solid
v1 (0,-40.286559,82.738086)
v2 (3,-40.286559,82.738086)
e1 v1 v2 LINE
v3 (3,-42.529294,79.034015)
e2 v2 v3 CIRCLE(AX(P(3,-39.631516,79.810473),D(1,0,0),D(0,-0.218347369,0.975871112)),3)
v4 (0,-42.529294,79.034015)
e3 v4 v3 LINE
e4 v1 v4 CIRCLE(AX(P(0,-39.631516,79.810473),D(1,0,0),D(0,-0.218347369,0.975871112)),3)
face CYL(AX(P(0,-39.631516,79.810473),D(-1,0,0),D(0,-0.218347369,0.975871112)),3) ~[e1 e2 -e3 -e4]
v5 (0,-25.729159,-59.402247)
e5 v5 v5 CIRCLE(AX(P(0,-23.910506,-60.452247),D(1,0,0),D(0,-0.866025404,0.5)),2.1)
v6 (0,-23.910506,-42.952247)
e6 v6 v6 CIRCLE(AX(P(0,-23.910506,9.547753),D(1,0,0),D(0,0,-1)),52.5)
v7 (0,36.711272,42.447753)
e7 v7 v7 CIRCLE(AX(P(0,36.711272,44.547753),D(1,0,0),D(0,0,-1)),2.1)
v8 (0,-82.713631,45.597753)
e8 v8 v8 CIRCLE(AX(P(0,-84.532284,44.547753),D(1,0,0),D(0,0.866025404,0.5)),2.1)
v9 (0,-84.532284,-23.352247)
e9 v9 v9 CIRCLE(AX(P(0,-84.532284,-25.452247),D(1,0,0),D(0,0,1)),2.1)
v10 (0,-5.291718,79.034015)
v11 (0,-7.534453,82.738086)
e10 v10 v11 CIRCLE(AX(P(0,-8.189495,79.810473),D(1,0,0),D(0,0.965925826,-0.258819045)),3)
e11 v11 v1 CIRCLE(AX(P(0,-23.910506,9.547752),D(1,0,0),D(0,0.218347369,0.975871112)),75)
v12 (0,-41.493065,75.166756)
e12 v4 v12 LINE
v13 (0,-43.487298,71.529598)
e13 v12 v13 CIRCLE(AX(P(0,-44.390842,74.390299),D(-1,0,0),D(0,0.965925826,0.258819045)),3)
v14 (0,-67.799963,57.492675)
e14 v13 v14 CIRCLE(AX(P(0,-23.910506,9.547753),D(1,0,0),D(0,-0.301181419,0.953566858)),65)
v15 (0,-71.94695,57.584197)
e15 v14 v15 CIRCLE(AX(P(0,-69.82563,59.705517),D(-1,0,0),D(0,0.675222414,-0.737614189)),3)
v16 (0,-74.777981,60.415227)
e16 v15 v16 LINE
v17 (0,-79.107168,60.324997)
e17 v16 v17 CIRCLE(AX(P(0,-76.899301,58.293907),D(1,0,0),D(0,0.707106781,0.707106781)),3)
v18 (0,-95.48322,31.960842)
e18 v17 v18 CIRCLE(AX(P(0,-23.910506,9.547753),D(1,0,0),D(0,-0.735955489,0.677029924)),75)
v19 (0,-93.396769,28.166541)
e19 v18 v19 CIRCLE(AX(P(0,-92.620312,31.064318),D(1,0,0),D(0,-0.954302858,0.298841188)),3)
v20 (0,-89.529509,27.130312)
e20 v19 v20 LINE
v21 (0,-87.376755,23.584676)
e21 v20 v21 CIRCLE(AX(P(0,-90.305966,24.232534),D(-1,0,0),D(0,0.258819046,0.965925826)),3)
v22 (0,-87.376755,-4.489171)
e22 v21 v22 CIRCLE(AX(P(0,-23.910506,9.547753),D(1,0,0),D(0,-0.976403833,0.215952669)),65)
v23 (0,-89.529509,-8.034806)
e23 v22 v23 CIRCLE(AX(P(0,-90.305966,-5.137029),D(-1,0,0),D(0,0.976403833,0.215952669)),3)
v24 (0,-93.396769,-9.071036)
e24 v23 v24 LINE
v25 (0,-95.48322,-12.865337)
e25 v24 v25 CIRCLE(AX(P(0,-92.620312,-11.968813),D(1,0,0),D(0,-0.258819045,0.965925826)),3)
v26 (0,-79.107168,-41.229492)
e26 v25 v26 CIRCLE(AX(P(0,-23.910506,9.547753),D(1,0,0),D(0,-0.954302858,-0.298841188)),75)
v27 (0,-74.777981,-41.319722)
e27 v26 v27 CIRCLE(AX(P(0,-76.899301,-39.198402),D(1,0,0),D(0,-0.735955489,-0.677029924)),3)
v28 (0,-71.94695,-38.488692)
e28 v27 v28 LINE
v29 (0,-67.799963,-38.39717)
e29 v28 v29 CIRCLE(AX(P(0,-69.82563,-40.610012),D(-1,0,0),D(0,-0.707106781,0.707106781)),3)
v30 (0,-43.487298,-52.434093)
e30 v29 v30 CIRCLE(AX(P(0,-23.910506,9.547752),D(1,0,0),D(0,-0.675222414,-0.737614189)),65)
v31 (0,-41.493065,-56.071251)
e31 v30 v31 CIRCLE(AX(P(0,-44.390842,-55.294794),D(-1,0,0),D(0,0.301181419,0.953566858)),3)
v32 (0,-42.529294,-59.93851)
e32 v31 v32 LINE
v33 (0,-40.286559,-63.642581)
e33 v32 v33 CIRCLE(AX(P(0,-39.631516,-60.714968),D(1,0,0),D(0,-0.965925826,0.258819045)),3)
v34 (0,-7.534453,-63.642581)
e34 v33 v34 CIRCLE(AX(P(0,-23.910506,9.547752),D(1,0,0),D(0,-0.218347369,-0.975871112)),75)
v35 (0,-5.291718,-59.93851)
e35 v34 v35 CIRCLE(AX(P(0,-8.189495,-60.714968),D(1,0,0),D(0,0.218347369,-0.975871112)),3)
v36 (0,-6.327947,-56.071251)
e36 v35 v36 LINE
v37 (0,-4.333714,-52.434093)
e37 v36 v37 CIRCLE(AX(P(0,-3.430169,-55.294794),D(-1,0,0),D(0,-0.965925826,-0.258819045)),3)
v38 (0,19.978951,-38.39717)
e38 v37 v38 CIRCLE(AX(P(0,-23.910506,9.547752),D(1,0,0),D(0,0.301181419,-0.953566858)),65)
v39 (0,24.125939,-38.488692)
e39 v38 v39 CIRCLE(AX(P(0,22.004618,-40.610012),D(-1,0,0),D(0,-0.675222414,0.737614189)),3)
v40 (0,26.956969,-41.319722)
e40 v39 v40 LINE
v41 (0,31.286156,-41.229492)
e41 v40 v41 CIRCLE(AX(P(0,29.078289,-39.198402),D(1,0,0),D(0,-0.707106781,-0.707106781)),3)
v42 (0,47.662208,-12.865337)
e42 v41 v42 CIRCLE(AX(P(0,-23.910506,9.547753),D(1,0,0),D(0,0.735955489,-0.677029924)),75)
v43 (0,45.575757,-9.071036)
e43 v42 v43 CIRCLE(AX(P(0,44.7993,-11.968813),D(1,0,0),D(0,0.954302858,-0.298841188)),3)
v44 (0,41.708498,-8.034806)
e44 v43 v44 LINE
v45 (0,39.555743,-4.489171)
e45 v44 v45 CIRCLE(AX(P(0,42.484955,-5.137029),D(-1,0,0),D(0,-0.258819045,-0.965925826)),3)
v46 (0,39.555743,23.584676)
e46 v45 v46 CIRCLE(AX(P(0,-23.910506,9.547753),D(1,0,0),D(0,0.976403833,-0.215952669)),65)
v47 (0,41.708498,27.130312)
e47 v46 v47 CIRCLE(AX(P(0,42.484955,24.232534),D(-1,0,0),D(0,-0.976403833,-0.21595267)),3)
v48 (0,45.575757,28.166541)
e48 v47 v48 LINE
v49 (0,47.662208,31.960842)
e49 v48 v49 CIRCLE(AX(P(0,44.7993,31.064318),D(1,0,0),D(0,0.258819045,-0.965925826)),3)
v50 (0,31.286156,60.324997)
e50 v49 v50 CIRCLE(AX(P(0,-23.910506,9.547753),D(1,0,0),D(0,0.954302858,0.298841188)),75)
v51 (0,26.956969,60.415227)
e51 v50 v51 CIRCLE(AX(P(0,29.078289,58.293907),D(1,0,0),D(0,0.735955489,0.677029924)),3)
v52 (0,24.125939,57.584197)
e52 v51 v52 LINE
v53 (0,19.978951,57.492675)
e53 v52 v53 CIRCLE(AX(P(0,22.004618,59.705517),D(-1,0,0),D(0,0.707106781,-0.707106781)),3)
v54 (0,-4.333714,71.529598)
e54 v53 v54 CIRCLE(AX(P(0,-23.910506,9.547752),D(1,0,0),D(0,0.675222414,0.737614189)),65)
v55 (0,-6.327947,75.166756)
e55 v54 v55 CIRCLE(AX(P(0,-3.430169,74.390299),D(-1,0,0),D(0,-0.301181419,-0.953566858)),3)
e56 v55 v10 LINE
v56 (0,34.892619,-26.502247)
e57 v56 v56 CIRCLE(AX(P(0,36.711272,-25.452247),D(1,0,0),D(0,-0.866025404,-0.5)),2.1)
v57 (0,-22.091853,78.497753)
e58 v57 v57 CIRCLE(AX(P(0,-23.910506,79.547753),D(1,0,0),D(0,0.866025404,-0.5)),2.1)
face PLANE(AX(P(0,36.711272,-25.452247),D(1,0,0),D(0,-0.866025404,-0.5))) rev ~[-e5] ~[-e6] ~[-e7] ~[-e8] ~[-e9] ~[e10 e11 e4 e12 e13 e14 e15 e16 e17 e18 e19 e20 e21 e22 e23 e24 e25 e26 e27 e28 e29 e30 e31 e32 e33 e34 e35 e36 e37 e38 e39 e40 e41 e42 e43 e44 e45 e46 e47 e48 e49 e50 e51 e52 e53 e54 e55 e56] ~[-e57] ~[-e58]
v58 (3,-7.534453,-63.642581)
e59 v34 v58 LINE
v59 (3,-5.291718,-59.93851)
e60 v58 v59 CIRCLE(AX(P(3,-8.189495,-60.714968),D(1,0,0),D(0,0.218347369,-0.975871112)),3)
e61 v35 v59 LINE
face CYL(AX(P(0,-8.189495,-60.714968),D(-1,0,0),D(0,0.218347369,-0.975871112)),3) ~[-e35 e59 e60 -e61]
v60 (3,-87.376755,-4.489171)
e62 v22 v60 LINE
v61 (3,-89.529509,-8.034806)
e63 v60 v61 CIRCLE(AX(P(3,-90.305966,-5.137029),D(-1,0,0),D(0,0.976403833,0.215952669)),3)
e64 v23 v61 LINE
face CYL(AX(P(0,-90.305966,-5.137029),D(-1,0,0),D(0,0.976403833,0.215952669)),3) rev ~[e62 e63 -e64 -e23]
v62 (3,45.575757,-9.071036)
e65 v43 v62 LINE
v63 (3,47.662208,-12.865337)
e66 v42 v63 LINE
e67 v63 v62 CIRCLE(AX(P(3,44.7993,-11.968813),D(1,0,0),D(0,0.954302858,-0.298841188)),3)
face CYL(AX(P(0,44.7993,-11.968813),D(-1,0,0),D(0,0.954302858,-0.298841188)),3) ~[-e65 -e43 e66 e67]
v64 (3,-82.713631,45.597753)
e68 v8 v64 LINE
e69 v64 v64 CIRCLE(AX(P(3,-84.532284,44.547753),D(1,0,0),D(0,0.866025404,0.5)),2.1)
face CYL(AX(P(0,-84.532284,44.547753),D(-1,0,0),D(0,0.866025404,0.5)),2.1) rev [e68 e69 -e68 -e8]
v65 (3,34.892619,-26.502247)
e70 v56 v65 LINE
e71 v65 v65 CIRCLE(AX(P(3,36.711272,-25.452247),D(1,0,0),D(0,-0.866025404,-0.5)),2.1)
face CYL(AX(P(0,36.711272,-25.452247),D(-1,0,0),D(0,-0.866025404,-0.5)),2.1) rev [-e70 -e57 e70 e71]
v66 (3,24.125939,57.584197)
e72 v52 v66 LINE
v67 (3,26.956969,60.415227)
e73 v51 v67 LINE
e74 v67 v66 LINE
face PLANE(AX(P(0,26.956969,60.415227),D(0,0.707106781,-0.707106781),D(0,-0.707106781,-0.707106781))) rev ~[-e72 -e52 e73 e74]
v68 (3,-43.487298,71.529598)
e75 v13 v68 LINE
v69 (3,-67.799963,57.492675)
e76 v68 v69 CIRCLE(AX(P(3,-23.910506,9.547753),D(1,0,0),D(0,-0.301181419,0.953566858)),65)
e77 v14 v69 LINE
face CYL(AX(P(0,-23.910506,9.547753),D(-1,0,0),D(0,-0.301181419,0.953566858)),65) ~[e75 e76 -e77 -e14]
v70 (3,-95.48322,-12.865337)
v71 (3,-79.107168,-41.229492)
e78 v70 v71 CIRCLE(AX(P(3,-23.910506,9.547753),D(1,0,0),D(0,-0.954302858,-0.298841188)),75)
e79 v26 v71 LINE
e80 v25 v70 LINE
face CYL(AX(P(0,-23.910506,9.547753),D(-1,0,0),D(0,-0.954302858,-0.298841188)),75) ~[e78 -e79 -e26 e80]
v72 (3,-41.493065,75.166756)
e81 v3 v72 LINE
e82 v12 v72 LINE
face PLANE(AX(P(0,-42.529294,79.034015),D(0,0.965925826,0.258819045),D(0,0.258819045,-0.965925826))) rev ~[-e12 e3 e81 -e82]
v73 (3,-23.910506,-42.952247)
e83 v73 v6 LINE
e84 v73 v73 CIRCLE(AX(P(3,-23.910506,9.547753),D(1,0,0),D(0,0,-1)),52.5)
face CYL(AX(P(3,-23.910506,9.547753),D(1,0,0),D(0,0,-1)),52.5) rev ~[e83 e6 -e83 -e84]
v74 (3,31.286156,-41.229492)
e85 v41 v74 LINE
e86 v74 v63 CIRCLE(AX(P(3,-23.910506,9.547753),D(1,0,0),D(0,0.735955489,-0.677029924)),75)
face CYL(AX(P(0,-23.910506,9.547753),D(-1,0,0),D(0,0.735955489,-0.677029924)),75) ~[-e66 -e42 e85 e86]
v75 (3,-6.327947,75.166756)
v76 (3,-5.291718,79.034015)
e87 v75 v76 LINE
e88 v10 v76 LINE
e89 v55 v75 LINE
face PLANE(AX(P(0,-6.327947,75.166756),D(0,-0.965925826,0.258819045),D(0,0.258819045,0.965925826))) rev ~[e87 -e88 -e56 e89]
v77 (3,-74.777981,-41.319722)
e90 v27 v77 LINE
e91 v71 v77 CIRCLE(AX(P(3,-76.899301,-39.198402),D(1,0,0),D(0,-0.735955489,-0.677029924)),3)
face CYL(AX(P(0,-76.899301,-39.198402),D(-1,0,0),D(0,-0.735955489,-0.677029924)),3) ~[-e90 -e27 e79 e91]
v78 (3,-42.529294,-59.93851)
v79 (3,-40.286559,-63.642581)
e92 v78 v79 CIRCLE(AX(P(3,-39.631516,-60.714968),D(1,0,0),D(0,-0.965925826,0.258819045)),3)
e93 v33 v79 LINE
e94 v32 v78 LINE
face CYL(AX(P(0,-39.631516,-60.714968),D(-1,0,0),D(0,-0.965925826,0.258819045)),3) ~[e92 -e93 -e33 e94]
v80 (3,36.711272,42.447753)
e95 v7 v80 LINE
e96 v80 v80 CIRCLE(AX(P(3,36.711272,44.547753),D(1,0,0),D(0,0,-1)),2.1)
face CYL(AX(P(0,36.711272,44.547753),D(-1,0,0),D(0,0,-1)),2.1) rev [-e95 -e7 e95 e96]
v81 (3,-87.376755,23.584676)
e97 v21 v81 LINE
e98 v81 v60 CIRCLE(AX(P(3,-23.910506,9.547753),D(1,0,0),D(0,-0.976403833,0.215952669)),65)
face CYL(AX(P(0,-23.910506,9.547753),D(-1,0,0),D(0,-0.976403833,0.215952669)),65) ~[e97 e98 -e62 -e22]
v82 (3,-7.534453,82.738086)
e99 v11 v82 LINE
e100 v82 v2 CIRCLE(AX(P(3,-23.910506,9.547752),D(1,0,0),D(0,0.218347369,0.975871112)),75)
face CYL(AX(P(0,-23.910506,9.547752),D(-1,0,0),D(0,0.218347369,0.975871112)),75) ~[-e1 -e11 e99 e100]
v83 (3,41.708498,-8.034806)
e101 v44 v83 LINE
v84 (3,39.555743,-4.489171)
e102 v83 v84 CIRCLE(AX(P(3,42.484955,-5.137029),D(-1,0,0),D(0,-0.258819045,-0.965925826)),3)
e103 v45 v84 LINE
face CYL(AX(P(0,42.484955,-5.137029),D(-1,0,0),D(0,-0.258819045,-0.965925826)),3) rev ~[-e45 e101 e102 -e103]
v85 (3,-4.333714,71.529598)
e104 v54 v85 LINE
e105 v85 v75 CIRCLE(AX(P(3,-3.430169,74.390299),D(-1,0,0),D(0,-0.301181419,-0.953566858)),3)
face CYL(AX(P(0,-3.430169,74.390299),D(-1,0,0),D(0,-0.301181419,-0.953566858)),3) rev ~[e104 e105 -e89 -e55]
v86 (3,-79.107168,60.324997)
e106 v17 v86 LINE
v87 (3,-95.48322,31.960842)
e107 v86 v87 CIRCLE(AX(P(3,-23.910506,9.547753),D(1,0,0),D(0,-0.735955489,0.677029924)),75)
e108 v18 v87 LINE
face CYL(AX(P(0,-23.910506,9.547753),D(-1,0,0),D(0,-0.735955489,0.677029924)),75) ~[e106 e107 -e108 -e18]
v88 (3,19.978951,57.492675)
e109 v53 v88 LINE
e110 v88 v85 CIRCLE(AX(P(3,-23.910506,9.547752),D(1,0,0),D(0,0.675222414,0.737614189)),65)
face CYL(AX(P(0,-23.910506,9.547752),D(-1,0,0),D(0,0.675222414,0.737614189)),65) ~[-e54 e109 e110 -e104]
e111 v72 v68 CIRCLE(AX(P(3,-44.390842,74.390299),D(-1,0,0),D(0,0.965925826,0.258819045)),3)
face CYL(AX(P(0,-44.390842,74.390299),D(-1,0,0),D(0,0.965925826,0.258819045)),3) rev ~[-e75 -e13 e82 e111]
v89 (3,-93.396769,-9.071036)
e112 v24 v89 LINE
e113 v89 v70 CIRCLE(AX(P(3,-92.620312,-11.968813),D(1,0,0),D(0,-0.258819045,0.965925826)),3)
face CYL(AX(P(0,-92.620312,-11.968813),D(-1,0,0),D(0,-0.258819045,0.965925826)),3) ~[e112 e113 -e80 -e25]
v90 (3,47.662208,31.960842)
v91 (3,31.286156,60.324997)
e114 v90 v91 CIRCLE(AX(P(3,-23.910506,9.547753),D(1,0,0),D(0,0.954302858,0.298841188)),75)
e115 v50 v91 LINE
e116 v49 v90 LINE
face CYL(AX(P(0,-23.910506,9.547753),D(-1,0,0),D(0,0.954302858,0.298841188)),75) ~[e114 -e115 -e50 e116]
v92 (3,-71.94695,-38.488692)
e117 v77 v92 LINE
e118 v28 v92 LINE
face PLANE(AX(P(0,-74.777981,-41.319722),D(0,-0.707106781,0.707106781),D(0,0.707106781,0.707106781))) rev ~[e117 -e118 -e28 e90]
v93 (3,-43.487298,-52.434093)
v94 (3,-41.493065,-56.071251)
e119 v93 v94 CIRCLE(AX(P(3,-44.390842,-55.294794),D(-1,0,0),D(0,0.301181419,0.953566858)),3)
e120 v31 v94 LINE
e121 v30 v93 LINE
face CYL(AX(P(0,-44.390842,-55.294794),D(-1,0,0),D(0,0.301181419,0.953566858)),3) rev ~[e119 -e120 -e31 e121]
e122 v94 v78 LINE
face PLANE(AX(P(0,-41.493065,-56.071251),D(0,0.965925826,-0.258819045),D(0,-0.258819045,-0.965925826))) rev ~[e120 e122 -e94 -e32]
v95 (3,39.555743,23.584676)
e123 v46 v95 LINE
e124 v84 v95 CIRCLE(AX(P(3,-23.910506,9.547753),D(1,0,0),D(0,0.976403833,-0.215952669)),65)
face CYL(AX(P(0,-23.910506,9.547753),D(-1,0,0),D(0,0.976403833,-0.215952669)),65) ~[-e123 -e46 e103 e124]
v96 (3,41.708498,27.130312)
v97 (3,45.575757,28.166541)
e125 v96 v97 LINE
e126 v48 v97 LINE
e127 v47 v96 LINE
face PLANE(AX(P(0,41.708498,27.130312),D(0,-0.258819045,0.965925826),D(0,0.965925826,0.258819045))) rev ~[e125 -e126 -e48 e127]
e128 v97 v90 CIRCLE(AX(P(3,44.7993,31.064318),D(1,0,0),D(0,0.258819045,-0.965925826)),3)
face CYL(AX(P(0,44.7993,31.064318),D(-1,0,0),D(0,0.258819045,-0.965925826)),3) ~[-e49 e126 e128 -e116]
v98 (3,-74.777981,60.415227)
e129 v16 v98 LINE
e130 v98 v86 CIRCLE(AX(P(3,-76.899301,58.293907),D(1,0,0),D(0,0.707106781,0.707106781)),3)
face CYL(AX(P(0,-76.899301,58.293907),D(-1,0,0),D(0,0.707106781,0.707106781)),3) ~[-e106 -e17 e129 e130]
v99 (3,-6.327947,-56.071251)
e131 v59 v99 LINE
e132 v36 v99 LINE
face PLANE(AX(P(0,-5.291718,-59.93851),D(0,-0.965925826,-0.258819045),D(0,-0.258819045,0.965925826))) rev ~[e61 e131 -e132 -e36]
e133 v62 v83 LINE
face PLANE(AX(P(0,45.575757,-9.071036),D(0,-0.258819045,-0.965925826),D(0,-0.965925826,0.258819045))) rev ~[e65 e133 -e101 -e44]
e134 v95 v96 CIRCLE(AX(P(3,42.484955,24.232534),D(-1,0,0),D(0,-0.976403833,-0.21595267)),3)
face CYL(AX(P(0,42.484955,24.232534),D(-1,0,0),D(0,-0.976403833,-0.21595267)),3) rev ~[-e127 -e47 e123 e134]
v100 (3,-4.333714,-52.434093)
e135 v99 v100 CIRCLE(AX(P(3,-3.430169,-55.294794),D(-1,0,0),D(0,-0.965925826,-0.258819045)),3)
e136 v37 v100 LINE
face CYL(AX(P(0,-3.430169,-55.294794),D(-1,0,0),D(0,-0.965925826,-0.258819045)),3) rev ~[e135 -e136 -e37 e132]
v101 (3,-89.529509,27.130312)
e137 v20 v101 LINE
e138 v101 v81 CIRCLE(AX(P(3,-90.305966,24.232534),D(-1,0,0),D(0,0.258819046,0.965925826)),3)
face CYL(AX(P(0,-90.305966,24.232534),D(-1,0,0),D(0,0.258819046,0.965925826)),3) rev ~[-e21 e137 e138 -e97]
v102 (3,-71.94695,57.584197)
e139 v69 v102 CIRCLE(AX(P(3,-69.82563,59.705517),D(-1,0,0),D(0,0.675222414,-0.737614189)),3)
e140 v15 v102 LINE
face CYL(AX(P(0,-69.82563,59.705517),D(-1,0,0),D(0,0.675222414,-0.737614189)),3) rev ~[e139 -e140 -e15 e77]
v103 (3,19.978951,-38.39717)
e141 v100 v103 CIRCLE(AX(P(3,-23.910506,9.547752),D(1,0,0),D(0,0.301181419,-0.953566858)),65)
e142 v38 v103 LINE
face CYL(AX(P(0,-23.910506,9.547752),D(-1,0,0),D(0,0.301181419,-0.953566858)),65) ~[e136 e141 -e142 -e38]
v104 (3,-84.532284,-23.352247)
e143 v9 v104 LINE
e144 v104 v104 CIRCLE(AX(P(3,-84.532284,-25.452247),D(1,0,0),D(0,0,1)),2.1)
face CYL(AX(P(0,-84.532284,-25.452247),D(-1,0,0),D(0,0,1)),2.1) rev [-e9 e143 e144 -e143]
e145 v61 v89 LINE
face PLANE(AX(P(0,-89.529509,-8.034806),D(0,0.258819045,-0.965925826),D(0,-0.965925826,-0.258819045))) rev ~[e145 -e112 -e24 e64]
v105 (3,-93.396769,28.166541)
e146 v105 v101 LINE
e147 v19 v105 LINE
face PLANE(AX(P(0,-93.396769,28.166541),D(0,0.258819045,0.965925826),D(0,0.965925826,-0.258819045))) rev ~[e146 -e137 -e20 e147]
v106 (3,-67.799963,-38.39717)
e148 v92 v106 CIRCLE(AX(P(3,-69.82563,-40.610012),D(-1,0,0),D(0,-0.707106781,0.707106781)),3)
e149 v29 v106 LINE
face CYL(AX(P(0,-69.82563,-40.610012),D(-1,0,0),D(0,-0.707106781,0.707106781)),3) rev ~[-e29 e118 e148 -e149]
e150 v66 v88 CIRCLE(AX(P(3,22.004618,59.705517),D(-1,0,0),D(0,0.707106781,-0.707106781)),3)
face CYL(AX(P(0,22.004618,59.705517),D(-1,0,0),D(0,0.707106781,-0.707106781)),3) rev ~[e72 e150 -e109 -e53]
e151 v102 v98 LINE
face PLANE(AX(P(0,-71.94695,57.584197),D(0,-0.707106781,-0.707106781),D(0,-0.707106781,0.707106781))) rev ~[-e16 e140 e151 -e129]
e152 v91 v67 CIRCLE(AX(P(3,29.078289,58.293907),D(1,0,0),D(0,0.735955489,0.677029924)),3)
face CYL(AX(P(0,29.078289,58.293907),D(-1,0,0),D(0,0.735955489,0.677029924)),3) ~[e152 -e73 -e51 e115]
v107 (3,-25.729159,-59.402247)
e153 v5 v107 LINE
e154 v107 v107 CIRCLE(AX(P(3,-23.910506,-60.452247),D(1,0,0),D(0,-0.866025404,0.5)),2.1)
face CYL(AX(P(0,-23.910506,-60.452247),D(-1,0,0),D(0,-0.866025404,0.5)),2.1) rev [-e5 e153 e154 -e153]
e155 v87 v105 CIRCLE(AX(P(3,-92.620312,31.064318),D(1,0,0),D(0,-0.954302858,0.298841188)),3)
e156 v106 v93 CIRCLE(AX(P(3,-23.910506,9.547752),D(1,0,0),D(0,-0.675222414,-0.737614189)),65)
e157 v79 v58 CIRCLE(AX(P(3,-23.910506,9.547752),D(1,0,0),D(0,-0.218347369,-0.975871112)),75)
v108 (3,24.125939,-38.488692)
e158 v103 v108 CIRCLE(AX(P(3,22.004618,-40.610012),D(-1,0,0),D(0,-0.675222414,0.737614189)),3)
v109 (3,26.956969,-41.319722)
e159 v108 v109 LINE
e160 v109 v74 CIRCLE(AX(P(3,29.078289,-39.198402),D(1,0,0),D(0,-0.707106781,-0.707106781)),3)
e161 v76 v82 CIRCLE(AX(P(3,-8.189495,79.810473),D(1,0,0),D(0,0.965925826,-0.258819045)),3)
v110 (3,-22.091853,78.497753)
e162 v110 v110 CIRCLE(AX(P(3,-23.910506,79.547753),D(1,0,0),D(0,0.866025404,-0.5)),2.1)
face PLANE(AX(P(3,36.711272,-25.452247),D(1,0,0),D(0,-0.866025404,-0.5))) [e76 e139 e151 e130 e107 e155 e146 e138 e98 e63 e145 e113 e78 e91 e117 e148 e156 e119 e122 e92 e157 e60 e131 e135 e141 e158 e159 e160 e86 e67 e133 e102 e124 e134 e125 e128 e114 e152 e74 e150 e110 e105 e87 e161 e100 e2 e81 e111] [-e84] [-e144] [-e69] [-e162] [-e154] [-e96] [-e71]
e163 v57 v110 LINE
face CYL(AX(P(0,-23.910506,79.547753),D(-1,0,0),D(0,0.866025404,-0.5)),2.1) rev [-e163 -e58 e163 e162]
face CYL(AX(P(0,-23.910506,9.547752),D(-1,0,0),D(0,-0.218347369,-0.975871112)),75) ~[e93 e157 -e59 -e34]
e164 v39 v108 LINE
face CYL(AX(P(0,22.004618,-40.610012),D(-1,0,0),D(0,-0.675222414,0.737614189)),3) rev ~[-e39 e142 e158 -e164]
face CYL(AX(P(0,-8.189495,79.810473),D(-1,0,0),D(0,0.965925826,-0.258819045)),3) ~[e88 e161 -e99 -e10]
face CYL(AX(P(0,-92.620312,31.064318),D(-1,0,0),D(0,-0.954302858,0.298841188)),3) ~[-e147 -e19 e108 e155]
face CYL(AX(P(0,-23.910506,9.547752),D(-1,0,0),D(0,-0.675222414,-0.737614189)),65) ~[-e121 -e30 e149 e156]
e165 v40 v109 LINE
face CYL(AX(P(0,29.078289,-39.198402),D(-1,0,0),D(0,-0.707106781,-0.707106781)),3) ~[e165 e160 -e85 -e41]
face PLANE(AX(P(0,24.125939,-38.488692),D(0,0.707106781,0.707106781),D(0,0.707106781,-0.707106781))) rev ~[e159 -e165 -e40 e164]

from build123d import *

# Parameters (mm, degrees)
SKETCH_2_R               = 2.807146676
EXTRUDE_2_DEPTH          = 3
SKETCH_3_R               = 52.5
CUT_EXTRUDE_1_DEPTH      = 3
EXTRUDE_START            = -3
SKETCH_4_R               = 2.807146676
SKETCH_4_R_2             = 2.1
EXTRUDE_3_DEPTH          = 3
PATTERN_CIRCULAR_1_COUNT = 6


with BuildPart() as part:
    # 草图2 → 凸台-拉伸2 (new body)
    with BuildSketch(Plane(origin=(0, 0, 0), x_dir=(0, 0, -1), z_dir=(1, 0, 0))):
        with BuildLine():
            Line((-60.415227383, 26.95696902), (-57.584197007, 24.125938644))
            ThreePointArc((-57.584197007, 24.125938644), (-56.706247683, 22.070810886), (-57.492674784, 19.978951059))
            ThreePointArc((-57.492674784, 19.978951059), (-65.839403755, 8.589494146), (-71.529598291, -4.333713637))
            ThreePointArc((-71.529598291, -4.333713637), (-72.947988492, -6.060709399), (-75.166756001, -6.32794686))
            Line((-75.166756001, -6.32794686), (-79.034015413, -5.291717824))
            ThreePointArc((-79.034015413, -5.291717824), (-81.364285194, -5.623240003), (-82.738085883, -7.534453196))
            ThreePointArc((-82.738085883, -7.534453196), (-84.547752509, -23.910505854), (-82.738085883, -40.286558511))
            ThreePointArc((-82.738085883, -40.286558511), (-81.364285194, -42.197771704), (-79.034015413, -42.529293884))
            Line((-79.034015413, -42.529293884), (-75.166756001, -41.493064847))
            ThreePointArc((-75.166756001, -41.493064847), (-72.947988492, -41.760302308), (-71.529598291, -43.48729807))
            ThreePointArc((-71.529598291, -43.48729807), (-65.839403755, -56.410505854), (-57.492674784, -67.799962766))
            ThreePointArc((-57.492674784, -67.799962766), (-56.706247683, -69.891822593), (-57.584197007, -71.946950351))
            Line((-57.584197007, -71.946950351), (-60.415227383, -74.777980727))
            ThreePointArc((-60.415227383, -74.777980727), (-61.293255644, -76.961814644), (-60.324996811, -79.107167538))
            ThreePointArc((-60.324996811, -79.107167538), (-47.047752509, -88.862411137), (-31.960841581, -95.483220195))
            ThreePointArc((-31.960841581, -95.483220195), (-29.618782059, -95.249080495), (-28.16654054, -93.396768757))
            Line((-28.16654054, -93.396768757), (-27.130311503, -89.529509345))
            ThreePointArc((-27.130311503, -89.529509345), (-25.789493318, -87.741619048), (-23.584676016, -87.376754982))
            ThreePointArc((-23.584676016, -87.376754982), (-9.547752509, -88.910505854), (4.489170997, -87.376754982))
            ThreePointArc((4.489170997, -87.376754982), (6.693988299, -87.741619048), (8.034806484, -89.529509345))
            Line((8.034806484, -89.529509345), (9.071035521, -93.396768757))
            ThreePointArc((9.071035521, -93.396768757), (10.52327704, -95.249080495), (12.865336562, -95.483220195))
            ThreePointArc((12.865336562, -95.483220195), (27.952247491, -88.862411137), (41.229491792, -79.107167538))
            ThreePointArc((41.229491792, -79.107167538), (42.197750625, -76.961814644), (41.319722364, -74.777980727))
            Line((41.319722364, -74.777980727), (38.488691988, -71.946950351))
            ThreePointArc((38.488691988, -71.946950351), (37.610742664, -69.891822593), (38.397169765, -67.799962766))
            ThreePointArc((38.397169765, -67.799962766), (46.743898737, -56.410505854), (52.434093272, -43.48729807))
            ThreePointArc((52.434093272, -43.48729807), (53.852483473, -41.760302308), (56.071250982, -41.493064847))
            Line((56.071250982, -41.493064847), (59.938510394, -42.529293884))
            ThreePointArc((59.938510394, -42.529293884), (62.268780175, -42.197771704), (63.642580864, -40.286558511))
            ThreePointArc((63.642580864, -40.286558511), (65.452247491, -23.910505854), (63.642580864, -7.534453196))
            ThreePointArc((63.642580864, -7.534453196), (62.268780175, -5.623240003), (59.938510394, -5.291717824))
            Line((59.938510394, -5.291717824), (56.071250982, -6.32794686))
            ThreePointArc((56.071250982, -6.32794686), (53.852483473, -6.060709399), (52.434093272, -4.333713637))
            ThreePointArc((52.434093272, -4.333713637), (46.743898737, 8.589494146), (38.397169765, 19.978951059))
            ThreePointArc((38.397169765, 19.978951059), (37.610742664, 22.070810886), (38.488691988, 24.125938644))
            Line((38.488691988, 24.125938644), (41.319722364, 26.95696902))
            ThreePointArc((41.319722364, 26.95696902), (42.197750625, 29.140802937), (41.229491792, 31.286155831))
            ThreePointArc((41.229491792, 31.286155831), (27.952247491, 41.04139943), (12.865336562, 47.662208488))
            ThreePointArc((12.865336562, 47.662208488), (10.52327704, 47.428068788), (9.071035521, 45.57575705))
            Line((9.071035521, 45.57575705), (8.034806484, 41.708497638))
            ThreePointArc((8.034806484, 41.708497638), (6.693988299, 39.92060734), (4.489170997, 39.555743275))
            ThreePointArc((4.489170997, 39.555743275), (-9.547752509, 41.089494146), (-23.584676016, 39.555743275))
            ThreePointArc((-23.584676016, 39.555743275), (-25.789493318, 39.92060734), (-27.130311503, 41.708497638))
            Line((-27.130311503, 41.708497638), (-28.16654054, 45.57575705))
            ThreePointArc((-28.16654054, 45.57575705), (-29.618782059, 47.428068788), (-31.960841581, 47.662208488))
            ThreePointArc((-31.960841581, 47.662208488), (-47.047752509, 41.04139943), (-60.324996811, 31.286155831))
            ThreePointArc((-60.324996811, 31.286155831), (-61.293255644, 29.140802937), (-60.415227383, 26.95696902))
        make_face()
        with Locations((-44.547752509, 36.711272411)):
            Circle(SKETCH_2_R, mode=Mode.SUBTRACT)
        with Locations((-79.547752509, -23.910505854)):
            Circle(SKETCH_2_R, mode=Mode.SUBTRACT)
        with Locations((-44.547752509, -84.532284119)):
            Circle(SKETCH_2_R, mode=Mode.SUBTRACT)
        with Locations((25.452247491, -84.532284119)):
            Circle(SKETCH_2_R, mode=Mode.SUBTRACT)
        with Locations((60.452247491, -23.910505854)):
            Circle(SKETCH_2_R, mode=Mode.SUBTRACT)
        with Locations((25.452247491, 36.711272411)):
            Circle(SKETCH_2_R, mode=Mode.SUBTRACT)
    extrude(amount=EXTRUDE_2_DEPTH)

    # 草图3 → 切除-拉伸1 (cut)
    with BuildSketch(Plane(origin=(3, 0, 0), x_dir=(0, 0, -1), z_dir=(1, 0, 0))):
        with Locations((-9.547752509, -23.910505854)):
            Circle(SKETCH_3_R)
    extrude(amount=-CUT_EXTRUDE_1_DEPTH, mode=Mode.SUBTRACT)

    # 草图4 → 凸台-拉伸3 (add)
    with BuildSketch(Plane(origin=(3, 0, 0), x_dir=(0, 0, -1), z_dir=(1, 0, 0)).offset(EXTRUDE_START)):
        with Locations((-44.547752509, 36.711272411)):
            Circle(SKETCH_4_R)
        with Locations((-44.547752509, 36.711272411)):
            Circle(SKETCH_4_R_2, mode=Mode.SUBTRACT)
    extrude_3 = extrude(amount=EXTRUDE_3_DEPTH)

    # 阵列(圆周)1: 凸台-拉伸3 ×6 about axis
    pattern_circular_1_axis = Axis((0, -23.910505854, 9.547752509), (1, 0, 0))
    for i in range(1, PATTERN_CIRCULAR_1_COUNT):
        add(extrude_3.rotate(pattern_circular_1_axis, i * 360 / PATTERN_CIRCULAR_1_COUNT))


solid = part.part
